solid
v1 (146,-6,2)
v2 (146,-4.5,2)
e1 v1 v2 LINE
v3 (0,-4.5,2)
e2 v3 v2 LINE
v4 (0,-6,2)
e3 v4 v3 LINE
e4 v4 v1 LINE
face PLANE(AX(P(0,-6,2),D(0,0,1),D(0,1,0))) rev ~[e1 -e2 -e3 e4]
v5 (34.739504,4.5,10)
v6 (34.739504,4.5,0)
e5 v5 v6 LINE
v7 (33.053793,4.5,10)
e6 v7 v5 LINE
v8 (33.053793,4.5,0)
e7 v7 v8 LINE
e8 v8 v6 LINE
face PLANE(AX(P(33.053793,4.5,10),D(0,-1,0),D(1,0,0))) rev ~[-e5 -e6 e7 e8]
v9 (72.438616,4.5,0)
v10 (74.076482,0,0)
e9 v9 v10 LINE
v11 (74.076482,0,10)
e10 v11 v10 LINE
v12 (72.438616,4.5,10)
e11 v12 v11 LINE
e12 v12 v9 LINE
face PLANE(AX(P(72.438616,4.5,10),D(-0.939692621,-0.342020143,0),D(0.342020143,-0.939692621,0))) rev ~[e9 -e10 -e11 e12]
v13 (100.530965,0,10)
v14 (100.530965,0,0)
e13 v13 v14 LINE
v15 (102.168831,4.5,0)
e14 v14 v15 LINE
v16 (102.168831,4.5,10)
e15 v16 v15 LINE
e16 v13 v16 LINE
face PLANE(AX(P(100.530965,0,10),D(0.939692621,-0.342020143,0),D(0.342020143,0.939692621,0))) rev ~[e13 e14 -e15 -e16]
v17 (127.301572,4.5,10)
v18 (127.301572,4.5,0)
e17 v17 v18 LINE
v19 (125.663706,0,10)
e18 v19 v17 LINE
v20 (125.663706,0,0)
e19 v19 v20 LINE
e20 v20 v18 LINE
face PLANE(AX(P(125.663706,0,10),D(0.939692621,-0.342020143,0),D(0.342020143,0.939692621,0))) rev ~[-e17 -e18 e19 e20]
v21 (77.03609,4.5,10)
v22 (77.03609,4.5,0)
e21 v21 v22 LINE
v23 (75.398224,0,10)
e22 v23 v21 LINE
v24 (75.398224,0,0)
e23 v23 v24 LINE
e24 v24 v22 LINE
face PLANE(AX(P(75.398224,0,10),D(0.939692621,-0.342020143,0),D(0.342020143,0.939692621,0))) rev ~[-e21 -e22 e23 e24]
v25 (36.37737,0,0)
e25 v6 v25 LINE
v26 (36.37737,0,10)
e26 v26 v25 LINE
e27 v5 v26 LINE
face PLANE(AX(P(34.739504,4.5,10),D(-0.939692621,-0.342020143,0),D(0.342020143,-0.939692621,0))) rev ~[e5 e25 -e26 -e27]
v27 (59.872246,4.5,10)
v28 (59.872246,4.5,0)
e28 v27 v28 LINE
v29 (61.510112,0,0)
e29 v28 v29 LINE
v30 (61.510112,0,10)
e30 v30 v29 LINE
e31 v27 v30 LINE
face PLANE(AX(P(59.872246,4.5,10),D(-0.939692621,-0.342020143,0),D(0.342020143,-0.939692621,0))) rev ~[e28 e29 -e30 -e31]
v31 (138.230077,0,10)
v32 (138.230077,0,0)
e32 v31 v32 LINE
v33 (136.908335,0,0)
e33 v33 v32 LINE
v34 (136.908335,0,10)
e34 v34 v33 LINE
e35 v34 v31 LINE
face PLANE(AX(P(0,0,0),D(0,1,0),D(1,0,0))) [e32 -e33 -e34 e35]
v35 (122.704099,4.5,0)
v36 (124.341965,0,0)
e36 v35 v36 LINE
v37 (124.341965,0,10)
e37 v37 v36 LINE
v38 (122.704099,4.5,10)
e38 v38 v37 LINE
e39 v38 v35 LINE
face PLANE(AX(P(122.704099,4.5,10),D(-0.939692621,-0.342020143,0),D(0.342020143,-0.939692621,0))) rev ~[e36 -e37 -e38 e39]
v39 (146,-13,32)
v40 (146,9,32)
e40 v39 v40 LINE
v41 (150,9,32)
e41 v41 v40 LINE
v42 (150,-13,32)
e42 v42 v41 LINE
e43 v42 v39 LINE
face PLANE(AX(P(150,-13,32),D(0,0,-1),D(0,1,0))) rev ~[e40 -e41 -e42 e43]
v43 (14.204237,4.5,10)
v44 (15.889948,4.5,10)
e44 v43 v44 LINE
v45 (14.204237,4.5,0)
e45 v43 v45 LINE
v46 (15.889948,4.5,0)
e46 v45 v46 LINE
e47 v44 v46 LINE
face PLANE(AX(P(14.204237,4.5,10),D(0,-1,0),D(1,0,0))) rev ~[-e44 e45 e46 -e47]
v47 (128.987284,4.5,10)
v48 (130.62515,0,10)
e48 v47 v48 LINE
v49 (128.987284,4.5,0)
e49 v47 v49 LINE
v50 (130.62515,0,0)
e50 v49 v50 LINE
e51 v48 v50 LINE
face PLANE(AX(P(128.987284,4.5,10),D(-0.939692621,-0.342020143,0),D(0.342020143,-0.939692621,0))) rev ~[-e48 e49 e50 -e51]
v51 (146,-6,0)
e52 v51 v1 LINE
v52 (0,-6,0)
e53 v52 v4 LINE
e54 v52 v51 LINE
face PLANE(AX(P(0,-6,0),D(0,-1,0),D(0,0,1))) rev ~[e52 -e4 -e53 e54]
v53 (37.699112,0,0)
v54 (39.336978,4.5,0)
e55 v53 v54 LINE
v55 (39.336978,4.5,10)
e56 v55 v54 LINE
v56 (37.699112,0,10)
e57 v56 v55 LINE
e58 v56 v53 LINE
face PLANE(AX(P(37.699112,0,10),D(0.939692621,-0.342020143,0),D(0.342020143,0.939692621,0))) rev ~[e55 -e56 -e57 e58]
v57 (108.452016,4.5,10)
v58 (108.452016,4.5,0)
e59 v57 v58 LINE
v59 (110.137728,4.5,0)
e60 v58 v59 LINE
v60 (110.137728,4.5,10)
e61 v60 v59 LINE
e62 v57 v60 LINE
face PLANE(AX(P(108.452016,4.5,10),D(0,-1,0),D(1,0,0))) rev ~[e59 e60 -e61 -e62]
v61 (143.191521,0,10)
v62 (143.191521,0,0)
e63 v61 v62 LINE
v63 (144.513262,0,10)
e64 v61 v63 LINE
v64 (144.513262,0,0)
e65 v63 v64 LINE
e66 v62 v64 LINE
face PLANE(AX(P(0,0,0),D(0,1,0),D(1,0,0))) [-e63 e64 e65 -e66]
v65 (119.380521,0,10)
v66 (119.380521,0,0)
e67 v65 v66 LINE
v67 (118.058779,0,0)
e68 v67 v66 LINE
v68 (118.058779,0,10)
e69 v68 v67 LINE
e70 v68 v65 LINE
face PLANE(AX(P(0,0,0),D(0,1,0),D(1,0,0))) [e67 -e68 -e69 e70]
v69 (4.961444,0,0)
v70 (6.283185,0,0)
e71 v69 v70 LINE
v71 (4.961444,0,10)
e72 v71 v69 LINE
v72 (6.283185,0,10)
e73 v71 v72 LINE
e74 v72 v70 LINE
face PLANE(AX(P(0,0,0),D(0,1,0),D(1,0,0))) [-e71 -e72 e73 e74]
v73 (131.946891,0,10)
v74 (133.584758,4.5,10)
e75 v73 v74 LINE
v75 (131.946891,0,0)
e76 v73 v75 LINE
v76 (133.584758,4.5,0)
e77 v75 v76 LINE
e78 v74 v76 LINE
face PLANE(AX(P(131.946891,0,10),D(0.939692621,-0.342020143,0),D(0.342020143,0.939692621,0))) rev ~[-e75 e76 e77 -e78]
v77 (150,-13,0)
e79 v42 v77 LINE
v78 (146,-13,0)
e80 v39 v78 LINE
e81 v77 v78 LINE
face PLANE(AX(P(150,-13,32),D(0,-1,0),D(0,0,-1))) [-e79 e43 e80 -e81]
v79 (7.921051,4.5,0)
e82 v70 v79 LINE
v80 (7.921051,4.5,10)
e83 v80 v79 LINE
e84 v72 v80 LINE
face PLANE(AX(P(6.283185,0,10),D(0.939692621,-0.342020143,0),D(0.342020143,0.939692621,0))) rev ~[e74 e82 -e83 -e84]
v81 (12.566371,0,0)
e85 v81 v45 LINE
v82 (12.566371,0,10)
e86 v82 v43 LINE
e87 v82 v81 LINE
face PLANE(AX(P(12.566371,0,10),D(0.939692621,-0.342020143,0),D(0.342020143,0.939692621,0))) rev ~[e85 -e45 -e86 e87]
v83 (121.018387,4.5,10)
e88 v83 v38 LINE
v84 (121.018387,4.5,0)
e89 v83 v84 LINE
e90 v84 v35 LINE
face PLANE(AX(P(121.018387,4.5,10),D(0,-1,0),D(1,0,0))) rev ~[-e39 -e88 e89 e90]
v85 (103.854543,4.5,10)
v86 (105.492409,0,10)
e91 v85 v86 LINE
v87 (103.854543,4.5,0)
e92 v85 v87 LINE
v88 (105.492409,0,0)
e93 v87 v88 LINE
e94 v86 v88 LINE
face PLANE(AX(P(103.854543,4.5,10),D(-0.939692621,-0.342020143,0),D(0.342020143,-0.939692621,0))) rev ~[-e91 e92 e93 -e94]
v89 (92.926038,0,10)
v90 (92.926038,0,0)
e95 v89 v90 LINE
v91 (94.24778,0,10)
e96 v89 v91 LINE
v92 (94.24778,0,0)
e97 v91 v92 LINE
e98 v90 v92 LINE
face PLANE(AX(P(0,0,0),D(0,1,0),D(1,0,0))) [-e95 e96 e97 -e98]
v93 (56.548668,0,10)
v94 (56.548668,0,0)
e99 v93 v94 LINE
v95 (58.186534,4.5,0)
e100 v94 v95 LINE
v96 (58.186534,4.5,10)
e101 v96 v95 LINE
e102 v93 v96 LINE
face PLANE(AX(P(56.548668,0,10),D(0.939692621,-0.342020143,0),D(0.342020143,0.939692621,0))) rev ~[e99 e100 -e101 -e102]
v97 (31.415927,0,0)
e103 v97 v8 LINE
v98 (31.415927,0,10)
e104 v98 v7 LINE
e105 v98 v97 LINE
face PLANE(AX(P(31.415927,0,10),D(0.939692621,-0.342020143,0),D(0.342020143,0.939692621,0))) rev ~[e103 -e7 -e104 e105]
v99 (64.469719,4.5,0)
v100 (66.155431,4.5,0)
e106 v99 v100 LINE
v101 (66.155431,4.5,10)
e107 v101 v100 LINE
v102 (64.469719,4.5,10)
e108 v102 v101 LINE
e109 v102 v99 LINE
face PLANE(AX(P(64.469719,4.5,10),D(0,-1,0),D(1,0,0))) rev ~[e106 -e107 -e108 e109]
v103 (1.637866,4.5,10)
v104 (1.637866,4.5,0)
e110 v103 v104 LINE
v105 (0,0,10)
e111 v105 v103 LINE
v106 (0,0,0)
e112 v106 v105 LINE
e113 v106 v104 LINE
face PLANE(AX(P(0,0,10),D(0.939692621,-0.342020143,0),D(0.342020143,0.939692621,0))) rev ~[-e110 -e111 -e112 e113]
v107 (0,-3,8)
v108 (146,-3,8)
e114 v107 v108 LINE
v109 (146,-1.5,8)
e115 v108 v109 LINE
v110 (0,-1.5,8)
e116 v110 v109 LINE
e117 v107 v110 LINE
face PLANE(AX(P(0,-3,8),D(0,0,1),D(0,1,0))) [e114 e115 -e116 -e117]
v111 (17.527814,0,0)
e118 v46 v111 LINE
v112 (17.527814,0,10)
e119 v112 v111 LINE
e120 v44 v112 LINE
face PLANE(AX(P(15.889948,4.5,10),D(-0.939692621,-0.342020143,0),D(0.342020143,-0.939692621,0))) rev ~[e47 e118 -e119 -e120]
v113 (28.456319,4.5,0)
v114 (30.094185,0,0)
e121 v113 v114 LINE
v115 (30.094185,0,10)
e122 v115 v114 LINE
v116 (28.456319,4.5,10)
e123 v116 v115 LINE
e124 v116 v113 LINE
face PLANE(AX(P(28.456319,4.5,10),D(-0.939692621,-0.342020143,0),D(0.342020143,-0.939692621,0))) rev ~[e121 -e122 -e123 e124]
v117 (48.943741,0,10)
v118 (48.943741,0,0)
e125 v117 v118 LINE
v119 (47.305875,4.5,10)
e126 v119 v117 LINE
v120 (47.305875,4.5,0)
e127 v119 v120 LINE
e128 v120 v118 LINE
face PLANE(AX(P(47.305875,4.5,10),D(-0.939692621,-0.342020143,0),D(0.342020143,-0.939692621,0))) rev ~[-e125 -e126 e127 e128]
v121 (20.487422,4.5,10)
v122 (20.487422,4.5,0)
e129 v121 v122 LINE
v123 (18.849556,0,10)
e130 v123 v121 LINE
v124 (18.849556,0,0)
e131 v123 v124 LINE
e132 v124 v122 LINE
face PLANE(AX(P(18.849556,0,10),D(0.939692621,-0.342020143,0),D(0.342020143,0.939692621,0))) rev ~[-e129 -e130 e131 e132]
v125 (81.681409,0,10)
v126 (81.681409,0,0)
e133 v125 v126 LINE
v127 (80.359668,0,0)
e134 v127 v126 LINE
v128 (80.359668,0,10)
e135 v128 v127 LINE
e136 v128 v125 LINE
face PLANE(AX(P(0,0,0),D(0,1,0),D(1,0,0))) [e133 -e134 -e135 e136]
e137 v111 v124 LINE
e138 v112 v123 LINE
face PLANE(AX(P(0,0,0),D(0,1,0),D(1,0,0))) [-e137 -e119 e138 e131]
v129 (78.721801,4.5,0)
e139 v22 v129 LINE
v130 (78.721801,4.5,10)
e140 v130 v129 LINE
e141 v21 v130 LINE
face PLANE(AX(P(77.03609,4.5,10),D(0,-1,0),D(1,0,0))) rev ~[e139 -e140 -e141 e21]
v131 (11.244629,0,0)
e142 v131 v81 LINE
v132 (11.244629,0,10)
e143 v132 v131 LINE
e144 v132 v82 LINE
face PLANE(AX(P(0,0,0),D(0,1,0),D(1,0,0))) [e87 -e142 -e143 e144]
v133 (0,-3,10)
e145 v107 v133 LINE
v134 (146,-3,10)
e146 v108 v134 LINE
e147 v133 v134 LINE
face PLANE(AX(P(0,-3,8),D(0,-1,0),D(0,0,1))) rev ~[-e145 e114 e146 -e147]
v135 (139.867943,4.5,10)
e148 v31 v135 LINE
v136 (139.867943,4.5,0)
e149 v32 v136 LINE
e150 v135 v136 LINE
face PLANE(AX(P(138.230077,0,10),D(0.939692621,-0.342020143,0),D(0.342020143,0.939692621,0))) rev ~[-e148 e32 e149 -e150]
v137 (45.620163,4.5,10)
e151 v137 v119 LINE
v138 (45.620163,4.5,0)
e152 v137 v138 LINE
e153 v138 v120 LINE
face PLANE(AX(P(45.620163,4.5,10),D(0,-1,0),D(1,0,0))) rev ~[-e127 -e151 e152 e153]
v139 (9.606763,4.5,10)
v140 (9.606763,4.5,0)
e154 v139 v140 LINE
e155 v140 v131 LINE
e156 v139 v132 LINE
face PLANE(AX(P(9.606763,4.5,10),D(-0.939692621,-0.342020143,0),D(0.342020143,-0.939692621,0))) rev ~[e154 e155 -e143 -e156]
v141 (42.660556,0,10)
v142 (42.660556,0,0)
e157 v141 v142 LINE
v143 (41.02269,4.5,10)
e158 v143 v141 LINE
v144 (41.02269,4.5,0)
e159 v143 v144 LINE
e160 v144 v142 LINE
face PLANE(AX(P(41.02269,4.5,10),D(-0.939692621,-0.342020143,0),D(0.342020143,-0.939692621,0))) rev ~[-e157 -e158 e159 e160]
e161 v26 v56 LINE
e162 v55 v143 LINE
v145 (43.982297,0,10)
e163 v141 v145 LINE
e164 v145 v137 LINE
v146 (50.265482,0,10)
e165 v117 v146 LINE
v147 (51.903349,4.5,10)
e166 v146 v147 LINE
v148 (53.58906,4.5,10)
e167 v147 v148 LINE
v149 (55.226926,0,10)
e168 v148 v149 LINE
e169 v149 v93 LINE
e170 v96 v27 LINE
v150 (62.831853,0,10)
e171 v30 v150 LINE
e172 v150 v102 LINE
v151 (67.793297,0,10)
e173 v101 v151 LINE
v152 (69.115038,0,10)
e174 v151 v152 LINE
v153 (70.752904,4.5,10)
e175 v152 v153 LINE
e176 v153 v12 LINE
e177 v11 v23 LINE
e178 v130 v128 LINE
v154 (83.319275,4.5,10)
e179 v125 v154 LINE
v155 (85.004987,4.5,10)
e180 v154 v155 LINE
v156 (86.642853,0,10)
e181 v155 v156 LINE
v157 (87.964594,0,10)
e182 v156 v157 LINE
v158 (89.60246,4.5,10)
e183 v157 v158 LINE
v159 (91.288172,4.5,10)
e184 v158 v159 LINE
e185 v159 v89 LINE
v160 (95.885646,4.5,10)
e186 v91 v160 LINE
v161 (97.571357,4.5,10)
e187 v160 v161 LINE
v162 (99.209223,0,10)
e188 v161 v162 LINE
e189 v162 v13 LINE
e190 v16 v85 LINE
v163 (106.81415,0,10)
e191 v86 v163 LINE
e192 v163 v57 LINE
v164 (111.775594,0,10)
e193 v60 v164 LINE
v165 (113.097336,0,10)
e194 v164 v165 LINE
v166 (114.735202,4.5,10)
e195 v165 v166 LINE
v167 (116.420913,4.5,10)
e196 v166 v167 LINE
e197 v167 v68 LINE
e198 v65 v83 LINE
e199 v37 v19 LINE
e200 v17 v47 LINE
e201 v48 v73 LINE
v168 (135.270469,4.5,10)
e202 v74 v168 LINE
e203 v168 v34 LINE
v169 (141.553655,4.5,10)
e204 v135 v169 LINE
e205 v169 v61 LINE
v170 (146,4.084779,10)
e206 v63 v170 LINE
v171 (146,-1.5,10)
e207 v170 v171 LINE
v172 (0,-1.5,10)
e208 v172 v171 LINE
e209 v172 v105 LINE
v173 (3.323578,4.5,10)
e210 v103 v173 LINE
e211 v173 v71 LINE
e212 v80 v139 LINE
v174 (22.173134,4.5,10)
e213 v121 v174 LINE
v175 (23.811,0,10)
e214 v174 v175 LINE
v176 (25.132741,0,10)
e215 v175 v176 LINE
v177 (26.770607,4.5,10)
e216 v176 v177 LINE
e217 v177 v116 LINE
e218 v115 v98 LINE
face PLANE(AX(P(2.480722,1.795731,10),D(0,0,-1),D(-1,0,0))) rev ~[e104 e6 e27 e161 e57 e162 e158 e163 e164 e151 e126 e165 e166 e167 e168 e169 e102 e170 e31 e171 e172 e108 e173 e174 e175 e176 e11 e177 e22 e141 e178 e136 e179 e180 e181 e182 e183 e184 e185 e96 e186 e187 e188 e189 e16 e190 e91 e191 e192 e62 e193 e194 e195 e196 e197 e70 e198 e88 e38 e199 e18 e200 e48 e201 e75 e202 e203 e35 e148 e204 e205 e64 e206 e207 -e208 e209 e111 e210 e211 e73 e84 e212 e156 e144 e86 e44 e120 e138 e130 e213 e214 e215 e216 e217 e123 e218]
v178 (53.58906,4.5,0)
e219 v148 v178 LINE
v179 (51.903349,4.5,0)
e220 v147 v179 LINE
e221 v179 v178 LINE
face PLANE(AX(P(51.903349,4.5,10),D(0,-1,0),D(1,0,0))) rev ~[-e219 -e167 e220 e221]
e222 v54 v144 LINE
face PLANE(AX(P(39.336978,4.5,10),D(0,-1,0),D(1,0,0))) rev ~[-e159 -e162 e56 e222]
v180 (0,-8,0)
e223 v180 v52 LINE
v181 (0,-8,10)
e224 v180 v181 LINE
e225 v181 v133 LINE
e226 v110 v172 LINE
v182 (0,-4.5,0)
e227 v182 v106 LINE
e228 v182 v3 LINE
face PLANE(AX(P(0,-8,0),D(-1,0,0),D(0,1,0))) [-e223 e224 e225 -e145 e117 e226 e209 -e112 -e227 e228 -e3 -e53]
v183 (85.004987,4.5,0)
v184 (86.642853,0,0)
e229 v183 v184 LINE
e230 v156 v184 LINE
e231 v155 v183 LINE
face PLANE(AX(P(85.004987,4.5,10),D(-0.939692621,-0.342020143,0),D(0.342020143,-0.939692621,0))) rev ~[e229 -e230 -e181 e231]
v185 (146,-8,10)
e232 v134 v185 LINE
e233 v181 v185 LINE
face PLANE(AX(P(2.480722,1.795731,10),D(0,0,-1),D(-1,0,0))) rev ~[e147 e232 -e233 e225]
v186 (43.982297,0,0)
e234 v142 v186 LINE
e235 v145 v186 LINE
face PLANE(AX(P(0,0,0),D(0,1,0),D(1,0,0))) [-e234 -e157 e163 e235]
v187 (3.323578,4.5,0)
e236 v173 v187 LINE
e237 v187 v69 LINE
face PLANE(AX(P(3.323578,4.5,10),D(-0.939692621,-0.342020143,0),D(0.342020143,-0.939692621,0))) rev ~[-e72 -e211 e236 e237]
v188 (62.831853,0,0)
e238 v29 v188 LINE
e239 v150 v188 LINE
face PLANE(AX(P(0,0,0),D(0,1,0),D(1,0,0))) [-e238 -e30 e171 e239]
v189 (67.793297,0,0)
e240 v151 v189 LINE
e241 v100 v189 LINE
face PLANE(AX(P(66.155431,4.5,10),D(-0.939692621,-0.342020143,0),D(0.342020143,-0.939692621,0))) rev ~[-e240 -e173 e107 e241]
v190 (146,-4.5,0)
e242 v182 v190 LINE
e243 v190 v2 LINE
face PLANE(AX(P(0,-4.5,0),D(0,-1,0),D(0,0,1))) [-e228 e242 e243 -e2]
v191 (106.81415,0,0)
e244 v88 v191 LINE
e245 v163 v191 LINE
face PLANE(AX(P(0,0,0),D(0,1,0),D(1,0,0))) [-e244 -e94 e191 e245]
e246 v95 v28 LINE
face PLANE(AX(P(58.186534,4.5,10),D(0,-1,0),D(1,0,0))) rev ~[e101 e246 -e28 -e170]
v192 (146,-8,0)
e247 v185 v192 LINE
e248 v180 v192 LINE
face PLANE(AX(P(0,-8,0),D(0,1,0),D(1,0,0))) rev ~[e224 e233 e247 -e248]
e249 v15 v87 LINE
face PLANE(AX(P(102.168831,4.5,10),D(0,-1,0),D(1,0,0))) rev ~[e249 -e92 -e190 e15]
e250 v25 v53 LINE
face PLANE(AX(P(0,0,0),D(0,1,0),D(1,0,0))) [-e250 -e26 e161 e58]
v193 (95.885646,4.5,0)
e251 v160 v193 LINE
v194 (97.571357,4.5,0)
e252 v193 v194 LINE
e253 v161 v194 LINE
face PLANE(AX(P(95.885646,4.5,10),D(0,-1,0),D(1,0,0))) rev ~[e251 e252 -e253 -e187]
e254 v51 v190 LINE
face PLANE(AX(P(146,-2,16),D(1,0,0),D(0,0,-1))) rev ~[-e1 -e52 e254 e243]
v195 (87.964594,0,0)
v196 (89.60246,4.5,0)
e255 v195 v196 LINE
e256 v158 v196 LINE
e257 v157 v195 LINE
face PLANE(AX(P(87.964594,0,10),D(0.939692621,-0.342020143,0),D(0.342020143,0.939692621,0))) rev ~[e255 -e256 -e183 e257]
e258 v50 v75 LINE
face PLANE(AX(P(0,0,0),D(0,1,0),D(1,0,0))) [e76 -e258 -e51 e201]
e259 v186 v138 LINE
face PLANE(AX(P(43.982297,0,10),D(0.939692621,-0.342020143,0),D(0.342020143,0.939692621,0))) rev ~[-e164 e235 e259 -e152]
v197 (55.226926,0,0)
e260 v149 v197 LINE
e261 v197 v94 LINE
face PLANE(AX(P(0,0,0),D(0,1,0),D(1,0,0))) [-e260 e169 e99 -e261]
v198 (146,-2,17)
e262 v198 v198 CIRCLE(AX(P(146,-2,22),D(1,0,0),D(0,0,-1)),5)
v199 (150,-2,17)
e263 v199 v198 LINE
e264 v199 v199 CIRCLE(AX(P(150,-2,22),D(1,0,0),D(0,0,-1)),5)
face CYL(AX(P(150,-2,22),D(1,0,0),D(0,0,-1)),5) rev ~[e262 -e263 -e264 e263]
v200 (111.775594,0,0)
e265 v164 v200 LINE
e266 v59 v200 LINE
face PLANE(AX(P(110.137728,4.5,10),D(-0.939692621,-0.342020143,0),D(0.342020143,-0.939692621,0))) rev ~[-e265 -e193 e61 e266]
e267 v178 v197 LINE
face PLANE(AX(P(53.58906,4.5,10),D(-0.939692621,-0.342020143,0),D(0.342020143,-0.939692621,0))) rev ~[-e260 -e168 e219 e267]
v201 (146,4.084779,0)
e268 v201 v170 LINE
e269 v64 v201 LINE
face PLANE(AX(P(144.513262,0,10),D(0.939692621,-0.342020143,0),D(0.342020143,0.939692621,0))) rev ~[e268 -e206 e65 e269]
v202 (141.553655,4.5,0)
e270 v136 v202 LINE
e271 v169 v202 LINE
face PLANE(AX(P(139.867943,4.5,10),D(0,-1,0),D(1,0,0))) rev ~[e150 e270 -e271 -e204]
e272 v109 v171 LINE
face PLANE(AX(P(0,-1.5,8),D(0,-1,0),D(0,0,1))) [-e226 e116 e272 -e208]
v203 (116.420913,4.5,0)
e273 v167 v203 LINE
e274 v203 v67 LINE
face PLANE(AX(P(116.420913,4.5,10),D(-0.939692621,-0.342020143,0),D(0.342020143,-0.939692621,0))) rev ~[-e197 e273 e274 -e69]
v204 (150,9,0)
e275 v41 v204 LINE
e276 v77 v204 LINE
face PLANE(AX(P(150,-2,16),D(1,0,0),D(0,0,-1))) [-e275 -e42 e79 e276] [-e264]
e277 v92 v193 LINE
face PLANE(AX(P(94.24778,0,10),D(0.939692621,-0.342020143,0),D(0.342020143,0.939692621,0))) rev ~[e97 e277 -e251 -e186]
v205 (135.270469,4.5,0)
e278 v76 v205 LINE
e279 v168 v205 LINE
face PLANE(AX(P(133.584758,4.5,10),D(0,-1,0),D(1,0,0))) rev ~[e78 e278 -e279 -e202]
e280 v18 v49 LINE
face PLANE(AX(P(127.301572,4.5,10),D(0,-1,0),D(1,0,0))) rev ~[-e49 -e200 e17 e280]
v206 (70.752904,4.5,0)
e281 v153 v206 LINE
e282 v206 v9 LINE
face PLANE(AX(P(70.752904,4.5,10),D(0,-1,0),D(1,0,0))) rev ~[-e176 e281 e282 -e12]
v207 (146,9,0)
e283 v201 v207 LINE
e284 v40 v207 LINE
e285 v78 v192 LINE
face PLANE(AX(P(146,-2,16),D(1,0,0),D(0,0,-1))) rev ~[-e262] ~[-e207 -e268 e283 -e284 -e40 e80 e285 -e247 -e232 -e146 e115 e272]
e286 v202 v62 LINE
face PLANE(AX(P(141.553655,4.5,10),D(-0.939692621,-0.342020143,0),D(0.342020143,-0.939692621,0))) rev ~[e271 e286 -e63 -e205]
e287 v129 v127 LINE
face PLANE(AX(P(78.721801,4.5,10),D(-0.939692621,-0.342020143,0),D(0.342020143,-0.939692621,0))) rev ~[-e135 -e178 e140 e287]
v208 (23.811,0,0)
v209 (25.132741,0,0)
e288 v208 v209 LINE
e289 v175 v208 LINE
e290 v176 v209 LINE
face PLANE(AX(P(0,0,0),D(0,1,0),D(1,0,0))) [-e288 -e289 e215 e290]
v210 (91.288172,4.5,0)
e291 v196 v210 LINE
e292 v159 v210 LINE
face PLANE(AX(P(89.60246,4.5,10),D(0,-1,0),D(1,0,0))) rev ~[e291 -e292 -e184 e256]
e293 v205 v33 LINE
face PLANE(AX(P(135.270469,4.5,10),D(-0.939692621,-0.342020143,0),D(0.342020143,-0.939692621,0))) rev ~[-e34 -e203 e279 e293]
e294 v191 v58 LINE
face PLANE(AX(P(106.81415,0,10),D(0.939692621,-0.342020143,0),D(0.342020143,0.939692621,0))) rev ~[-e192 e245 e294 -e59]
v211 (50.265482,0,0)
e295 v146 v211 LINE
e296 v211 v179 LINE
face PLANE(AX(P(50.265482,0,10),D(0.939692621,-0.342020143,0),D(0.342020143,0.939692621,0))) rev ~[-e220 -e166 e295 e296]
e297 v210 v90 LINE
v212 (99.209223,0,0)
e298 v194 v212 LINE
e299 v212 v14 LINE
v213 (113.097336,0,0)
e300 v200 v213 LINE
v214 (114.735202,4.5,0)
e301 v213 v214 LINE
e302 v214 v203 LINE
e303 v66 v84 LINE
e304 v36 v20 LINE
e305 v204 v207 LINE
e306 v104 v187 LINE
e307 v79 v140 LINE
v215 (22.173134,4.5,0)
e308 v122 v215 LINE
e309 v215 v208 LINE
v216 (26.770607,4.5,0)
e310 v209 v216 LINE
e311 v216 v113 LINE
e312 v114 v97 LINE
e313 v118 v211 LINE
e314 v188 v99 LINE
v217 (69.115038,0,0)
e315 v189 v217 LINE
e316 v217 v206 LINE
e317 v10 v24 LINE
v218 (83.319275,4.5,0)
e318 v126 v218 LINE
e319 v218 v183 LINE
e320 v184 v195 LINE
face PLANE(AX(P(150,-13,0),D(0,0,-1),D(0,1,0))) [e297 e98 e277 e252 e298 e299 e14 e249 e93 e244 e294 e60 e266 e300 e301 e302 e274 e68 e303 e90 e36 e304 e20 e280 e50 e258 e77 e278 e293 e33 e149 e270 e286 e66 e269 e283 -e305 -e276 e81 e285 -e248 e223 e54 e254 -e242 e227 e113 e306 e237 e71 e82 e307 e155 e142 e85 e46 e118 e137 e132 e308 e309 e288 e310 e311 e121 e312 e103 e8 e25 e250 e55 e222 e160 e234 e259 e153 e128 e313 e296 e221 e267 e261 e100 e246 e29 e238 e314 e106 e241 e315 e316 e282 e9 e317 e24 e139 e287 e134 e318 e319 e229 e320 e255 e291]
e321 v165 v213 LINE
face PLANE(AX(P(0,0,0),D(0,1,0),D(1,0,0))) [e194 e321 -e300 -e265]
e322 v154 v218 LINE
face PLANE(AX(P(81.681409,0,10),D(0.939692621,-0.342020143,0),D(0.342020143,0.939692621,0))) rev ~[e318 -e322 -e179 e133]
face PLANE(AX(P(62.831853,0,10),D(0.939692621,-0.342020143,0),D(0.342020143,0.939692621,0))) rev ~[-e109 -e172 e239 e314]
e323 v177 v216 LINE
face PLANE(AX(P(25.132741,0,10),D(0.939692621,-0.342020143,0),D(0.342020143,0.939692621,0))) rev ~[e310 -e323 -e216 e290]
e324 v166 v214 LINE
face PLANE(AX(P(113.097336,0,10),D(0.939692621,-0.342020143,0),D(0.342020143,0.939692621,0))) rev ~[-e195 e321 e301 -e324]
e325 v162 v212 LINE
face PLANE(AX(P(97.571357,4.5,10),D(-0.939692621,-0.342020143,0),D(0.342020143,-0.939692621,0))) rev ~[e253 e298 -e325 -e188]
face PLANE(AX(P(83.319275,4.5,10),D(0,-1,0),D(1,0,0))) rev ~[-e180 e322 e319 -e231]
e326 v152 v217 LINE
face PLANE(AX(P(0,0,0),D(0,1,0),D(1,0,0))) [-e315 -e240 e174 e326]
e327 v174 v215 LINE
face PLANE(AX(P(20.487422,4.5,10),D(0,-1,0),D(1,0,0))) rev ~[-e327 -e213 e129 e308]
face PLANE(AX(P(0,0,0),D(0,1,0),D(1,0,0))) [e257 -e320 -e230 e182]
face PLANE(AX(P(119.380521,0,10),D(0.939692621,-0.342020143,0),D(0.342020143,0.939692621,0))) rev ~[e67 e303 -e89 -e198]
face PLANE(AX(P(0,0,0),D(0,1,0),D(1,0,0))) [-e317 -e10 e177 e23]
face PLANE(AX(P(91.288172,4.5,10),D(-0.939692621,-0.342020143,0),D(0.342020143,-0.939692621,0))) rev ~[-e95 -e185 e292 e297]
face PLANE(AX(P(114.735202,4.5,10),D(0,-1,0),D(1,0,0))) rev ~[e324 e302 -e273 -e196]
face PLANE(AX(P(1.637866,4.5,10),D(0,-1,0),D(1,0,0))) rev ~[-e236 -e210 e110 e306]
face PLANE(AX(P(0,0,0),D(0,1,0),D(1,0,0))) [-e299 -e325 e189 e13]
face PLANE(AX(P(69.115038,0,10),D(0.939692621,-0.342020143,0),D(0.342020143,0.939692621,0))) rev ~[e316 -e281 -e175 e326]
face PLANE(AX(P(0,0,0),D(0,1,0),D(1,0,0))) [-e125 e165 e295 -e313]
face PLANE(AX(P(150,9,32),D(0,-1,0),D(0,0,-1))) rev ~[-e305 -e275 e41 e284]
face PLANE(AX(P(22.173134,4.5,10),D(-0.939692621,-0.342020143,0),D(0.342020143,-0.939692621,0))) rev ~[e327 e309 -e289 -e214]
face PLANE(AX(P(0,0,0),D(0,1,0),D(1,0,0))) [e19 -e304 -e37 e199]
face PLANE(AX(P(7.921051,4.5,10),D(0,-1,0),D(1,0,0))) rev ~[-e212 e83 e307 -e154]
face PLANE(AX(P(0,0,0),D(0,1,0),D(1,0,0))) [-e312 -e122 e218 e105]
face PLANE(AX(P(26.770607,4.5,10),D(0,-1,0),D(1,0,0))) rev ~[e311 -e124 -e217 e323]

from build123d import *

# Parameters (mm, degrees)
SKETCH_1_W             = 150
SKETCH_1_H             = 8
EXTRUDE_1_DEPTH        = 10
EXTRUDE_2_DEPTH        = 10
PATTERN_LINEAR_1_COUNT = 24
PATTERN_LINEAR_1_PITCH = 6.283185307
SKETCH_3_W             = 2
SKETCH_3_H             = 1.5
CUT_EXTRUDE_1_DEPTH    = 151.545674132
SKETCH_4_W             = 32
SKETCH_4_H             = 22
SKETCH_4_R             = 5
EXTRUDE_1_2_DEPTH      = 4


with BuildPart() as part:
    # 草图1 → Extrude 1 (new body)
    with BuildSketch(Plane.XY):
        with Locations((75, -4)):
            Rectangle(SKETCH_1_W, SKETCH_1_H)
    extrude(amount=EXTRUDE_1_DEPTH)

    # 草图2 → 拉伸2 (add)
    with BuildSketch(Plane.XY.offset(10)):
        Polygon((0, 0), (1.637866054, 4.5), (3.323577771, 4.5), (4.961443825, 0), align=None)
    extrude_2 = extrude(amount=-EXTRUDE_2_DEPTH)

    # 阵列(线性)1: 拉伸2 ×24
    with Locations(*[(i * PATTERN_LINEAR_1_PITCH, 0, 0) for i in range(1, PATTERN_LINEAR_1_COUNT)]):
        add(extrude_2)

    # 草图3 → 切除-拉伸1 (cut, through all)
    with BuildSketch(Plane.ZY):
        with Locations((9, -2.25)):
            Rectangle(SKETCH_3_W, SKETCH_3_H)
        with Locations((1, -5.25)):
            Rectangle(SKETCH_3_W, SKETCH_3_H)
    extrude(amount=-CUT_EXTRUDE_1_DEPTH, mode=Mode.SUBTRACT)

    # 草图4 → Extrude 1 2 (add)
    with BuildSketch(Plane(origin=(150, 0, 0), x_dir=(0, 0, -1), z_dir=(1, 0, 0))):
        with Locations((-16, -2)):
            Rectangle(SKETCH_4_W, SKETCH_4_H)
        with Locations((-22, -2)):
            Circle(SKETCH_4_R, mode=Mode.SUBTRACT)
    extrude(amount=-EXTRUDE_1_2_DEPTH)


solid = part.part
